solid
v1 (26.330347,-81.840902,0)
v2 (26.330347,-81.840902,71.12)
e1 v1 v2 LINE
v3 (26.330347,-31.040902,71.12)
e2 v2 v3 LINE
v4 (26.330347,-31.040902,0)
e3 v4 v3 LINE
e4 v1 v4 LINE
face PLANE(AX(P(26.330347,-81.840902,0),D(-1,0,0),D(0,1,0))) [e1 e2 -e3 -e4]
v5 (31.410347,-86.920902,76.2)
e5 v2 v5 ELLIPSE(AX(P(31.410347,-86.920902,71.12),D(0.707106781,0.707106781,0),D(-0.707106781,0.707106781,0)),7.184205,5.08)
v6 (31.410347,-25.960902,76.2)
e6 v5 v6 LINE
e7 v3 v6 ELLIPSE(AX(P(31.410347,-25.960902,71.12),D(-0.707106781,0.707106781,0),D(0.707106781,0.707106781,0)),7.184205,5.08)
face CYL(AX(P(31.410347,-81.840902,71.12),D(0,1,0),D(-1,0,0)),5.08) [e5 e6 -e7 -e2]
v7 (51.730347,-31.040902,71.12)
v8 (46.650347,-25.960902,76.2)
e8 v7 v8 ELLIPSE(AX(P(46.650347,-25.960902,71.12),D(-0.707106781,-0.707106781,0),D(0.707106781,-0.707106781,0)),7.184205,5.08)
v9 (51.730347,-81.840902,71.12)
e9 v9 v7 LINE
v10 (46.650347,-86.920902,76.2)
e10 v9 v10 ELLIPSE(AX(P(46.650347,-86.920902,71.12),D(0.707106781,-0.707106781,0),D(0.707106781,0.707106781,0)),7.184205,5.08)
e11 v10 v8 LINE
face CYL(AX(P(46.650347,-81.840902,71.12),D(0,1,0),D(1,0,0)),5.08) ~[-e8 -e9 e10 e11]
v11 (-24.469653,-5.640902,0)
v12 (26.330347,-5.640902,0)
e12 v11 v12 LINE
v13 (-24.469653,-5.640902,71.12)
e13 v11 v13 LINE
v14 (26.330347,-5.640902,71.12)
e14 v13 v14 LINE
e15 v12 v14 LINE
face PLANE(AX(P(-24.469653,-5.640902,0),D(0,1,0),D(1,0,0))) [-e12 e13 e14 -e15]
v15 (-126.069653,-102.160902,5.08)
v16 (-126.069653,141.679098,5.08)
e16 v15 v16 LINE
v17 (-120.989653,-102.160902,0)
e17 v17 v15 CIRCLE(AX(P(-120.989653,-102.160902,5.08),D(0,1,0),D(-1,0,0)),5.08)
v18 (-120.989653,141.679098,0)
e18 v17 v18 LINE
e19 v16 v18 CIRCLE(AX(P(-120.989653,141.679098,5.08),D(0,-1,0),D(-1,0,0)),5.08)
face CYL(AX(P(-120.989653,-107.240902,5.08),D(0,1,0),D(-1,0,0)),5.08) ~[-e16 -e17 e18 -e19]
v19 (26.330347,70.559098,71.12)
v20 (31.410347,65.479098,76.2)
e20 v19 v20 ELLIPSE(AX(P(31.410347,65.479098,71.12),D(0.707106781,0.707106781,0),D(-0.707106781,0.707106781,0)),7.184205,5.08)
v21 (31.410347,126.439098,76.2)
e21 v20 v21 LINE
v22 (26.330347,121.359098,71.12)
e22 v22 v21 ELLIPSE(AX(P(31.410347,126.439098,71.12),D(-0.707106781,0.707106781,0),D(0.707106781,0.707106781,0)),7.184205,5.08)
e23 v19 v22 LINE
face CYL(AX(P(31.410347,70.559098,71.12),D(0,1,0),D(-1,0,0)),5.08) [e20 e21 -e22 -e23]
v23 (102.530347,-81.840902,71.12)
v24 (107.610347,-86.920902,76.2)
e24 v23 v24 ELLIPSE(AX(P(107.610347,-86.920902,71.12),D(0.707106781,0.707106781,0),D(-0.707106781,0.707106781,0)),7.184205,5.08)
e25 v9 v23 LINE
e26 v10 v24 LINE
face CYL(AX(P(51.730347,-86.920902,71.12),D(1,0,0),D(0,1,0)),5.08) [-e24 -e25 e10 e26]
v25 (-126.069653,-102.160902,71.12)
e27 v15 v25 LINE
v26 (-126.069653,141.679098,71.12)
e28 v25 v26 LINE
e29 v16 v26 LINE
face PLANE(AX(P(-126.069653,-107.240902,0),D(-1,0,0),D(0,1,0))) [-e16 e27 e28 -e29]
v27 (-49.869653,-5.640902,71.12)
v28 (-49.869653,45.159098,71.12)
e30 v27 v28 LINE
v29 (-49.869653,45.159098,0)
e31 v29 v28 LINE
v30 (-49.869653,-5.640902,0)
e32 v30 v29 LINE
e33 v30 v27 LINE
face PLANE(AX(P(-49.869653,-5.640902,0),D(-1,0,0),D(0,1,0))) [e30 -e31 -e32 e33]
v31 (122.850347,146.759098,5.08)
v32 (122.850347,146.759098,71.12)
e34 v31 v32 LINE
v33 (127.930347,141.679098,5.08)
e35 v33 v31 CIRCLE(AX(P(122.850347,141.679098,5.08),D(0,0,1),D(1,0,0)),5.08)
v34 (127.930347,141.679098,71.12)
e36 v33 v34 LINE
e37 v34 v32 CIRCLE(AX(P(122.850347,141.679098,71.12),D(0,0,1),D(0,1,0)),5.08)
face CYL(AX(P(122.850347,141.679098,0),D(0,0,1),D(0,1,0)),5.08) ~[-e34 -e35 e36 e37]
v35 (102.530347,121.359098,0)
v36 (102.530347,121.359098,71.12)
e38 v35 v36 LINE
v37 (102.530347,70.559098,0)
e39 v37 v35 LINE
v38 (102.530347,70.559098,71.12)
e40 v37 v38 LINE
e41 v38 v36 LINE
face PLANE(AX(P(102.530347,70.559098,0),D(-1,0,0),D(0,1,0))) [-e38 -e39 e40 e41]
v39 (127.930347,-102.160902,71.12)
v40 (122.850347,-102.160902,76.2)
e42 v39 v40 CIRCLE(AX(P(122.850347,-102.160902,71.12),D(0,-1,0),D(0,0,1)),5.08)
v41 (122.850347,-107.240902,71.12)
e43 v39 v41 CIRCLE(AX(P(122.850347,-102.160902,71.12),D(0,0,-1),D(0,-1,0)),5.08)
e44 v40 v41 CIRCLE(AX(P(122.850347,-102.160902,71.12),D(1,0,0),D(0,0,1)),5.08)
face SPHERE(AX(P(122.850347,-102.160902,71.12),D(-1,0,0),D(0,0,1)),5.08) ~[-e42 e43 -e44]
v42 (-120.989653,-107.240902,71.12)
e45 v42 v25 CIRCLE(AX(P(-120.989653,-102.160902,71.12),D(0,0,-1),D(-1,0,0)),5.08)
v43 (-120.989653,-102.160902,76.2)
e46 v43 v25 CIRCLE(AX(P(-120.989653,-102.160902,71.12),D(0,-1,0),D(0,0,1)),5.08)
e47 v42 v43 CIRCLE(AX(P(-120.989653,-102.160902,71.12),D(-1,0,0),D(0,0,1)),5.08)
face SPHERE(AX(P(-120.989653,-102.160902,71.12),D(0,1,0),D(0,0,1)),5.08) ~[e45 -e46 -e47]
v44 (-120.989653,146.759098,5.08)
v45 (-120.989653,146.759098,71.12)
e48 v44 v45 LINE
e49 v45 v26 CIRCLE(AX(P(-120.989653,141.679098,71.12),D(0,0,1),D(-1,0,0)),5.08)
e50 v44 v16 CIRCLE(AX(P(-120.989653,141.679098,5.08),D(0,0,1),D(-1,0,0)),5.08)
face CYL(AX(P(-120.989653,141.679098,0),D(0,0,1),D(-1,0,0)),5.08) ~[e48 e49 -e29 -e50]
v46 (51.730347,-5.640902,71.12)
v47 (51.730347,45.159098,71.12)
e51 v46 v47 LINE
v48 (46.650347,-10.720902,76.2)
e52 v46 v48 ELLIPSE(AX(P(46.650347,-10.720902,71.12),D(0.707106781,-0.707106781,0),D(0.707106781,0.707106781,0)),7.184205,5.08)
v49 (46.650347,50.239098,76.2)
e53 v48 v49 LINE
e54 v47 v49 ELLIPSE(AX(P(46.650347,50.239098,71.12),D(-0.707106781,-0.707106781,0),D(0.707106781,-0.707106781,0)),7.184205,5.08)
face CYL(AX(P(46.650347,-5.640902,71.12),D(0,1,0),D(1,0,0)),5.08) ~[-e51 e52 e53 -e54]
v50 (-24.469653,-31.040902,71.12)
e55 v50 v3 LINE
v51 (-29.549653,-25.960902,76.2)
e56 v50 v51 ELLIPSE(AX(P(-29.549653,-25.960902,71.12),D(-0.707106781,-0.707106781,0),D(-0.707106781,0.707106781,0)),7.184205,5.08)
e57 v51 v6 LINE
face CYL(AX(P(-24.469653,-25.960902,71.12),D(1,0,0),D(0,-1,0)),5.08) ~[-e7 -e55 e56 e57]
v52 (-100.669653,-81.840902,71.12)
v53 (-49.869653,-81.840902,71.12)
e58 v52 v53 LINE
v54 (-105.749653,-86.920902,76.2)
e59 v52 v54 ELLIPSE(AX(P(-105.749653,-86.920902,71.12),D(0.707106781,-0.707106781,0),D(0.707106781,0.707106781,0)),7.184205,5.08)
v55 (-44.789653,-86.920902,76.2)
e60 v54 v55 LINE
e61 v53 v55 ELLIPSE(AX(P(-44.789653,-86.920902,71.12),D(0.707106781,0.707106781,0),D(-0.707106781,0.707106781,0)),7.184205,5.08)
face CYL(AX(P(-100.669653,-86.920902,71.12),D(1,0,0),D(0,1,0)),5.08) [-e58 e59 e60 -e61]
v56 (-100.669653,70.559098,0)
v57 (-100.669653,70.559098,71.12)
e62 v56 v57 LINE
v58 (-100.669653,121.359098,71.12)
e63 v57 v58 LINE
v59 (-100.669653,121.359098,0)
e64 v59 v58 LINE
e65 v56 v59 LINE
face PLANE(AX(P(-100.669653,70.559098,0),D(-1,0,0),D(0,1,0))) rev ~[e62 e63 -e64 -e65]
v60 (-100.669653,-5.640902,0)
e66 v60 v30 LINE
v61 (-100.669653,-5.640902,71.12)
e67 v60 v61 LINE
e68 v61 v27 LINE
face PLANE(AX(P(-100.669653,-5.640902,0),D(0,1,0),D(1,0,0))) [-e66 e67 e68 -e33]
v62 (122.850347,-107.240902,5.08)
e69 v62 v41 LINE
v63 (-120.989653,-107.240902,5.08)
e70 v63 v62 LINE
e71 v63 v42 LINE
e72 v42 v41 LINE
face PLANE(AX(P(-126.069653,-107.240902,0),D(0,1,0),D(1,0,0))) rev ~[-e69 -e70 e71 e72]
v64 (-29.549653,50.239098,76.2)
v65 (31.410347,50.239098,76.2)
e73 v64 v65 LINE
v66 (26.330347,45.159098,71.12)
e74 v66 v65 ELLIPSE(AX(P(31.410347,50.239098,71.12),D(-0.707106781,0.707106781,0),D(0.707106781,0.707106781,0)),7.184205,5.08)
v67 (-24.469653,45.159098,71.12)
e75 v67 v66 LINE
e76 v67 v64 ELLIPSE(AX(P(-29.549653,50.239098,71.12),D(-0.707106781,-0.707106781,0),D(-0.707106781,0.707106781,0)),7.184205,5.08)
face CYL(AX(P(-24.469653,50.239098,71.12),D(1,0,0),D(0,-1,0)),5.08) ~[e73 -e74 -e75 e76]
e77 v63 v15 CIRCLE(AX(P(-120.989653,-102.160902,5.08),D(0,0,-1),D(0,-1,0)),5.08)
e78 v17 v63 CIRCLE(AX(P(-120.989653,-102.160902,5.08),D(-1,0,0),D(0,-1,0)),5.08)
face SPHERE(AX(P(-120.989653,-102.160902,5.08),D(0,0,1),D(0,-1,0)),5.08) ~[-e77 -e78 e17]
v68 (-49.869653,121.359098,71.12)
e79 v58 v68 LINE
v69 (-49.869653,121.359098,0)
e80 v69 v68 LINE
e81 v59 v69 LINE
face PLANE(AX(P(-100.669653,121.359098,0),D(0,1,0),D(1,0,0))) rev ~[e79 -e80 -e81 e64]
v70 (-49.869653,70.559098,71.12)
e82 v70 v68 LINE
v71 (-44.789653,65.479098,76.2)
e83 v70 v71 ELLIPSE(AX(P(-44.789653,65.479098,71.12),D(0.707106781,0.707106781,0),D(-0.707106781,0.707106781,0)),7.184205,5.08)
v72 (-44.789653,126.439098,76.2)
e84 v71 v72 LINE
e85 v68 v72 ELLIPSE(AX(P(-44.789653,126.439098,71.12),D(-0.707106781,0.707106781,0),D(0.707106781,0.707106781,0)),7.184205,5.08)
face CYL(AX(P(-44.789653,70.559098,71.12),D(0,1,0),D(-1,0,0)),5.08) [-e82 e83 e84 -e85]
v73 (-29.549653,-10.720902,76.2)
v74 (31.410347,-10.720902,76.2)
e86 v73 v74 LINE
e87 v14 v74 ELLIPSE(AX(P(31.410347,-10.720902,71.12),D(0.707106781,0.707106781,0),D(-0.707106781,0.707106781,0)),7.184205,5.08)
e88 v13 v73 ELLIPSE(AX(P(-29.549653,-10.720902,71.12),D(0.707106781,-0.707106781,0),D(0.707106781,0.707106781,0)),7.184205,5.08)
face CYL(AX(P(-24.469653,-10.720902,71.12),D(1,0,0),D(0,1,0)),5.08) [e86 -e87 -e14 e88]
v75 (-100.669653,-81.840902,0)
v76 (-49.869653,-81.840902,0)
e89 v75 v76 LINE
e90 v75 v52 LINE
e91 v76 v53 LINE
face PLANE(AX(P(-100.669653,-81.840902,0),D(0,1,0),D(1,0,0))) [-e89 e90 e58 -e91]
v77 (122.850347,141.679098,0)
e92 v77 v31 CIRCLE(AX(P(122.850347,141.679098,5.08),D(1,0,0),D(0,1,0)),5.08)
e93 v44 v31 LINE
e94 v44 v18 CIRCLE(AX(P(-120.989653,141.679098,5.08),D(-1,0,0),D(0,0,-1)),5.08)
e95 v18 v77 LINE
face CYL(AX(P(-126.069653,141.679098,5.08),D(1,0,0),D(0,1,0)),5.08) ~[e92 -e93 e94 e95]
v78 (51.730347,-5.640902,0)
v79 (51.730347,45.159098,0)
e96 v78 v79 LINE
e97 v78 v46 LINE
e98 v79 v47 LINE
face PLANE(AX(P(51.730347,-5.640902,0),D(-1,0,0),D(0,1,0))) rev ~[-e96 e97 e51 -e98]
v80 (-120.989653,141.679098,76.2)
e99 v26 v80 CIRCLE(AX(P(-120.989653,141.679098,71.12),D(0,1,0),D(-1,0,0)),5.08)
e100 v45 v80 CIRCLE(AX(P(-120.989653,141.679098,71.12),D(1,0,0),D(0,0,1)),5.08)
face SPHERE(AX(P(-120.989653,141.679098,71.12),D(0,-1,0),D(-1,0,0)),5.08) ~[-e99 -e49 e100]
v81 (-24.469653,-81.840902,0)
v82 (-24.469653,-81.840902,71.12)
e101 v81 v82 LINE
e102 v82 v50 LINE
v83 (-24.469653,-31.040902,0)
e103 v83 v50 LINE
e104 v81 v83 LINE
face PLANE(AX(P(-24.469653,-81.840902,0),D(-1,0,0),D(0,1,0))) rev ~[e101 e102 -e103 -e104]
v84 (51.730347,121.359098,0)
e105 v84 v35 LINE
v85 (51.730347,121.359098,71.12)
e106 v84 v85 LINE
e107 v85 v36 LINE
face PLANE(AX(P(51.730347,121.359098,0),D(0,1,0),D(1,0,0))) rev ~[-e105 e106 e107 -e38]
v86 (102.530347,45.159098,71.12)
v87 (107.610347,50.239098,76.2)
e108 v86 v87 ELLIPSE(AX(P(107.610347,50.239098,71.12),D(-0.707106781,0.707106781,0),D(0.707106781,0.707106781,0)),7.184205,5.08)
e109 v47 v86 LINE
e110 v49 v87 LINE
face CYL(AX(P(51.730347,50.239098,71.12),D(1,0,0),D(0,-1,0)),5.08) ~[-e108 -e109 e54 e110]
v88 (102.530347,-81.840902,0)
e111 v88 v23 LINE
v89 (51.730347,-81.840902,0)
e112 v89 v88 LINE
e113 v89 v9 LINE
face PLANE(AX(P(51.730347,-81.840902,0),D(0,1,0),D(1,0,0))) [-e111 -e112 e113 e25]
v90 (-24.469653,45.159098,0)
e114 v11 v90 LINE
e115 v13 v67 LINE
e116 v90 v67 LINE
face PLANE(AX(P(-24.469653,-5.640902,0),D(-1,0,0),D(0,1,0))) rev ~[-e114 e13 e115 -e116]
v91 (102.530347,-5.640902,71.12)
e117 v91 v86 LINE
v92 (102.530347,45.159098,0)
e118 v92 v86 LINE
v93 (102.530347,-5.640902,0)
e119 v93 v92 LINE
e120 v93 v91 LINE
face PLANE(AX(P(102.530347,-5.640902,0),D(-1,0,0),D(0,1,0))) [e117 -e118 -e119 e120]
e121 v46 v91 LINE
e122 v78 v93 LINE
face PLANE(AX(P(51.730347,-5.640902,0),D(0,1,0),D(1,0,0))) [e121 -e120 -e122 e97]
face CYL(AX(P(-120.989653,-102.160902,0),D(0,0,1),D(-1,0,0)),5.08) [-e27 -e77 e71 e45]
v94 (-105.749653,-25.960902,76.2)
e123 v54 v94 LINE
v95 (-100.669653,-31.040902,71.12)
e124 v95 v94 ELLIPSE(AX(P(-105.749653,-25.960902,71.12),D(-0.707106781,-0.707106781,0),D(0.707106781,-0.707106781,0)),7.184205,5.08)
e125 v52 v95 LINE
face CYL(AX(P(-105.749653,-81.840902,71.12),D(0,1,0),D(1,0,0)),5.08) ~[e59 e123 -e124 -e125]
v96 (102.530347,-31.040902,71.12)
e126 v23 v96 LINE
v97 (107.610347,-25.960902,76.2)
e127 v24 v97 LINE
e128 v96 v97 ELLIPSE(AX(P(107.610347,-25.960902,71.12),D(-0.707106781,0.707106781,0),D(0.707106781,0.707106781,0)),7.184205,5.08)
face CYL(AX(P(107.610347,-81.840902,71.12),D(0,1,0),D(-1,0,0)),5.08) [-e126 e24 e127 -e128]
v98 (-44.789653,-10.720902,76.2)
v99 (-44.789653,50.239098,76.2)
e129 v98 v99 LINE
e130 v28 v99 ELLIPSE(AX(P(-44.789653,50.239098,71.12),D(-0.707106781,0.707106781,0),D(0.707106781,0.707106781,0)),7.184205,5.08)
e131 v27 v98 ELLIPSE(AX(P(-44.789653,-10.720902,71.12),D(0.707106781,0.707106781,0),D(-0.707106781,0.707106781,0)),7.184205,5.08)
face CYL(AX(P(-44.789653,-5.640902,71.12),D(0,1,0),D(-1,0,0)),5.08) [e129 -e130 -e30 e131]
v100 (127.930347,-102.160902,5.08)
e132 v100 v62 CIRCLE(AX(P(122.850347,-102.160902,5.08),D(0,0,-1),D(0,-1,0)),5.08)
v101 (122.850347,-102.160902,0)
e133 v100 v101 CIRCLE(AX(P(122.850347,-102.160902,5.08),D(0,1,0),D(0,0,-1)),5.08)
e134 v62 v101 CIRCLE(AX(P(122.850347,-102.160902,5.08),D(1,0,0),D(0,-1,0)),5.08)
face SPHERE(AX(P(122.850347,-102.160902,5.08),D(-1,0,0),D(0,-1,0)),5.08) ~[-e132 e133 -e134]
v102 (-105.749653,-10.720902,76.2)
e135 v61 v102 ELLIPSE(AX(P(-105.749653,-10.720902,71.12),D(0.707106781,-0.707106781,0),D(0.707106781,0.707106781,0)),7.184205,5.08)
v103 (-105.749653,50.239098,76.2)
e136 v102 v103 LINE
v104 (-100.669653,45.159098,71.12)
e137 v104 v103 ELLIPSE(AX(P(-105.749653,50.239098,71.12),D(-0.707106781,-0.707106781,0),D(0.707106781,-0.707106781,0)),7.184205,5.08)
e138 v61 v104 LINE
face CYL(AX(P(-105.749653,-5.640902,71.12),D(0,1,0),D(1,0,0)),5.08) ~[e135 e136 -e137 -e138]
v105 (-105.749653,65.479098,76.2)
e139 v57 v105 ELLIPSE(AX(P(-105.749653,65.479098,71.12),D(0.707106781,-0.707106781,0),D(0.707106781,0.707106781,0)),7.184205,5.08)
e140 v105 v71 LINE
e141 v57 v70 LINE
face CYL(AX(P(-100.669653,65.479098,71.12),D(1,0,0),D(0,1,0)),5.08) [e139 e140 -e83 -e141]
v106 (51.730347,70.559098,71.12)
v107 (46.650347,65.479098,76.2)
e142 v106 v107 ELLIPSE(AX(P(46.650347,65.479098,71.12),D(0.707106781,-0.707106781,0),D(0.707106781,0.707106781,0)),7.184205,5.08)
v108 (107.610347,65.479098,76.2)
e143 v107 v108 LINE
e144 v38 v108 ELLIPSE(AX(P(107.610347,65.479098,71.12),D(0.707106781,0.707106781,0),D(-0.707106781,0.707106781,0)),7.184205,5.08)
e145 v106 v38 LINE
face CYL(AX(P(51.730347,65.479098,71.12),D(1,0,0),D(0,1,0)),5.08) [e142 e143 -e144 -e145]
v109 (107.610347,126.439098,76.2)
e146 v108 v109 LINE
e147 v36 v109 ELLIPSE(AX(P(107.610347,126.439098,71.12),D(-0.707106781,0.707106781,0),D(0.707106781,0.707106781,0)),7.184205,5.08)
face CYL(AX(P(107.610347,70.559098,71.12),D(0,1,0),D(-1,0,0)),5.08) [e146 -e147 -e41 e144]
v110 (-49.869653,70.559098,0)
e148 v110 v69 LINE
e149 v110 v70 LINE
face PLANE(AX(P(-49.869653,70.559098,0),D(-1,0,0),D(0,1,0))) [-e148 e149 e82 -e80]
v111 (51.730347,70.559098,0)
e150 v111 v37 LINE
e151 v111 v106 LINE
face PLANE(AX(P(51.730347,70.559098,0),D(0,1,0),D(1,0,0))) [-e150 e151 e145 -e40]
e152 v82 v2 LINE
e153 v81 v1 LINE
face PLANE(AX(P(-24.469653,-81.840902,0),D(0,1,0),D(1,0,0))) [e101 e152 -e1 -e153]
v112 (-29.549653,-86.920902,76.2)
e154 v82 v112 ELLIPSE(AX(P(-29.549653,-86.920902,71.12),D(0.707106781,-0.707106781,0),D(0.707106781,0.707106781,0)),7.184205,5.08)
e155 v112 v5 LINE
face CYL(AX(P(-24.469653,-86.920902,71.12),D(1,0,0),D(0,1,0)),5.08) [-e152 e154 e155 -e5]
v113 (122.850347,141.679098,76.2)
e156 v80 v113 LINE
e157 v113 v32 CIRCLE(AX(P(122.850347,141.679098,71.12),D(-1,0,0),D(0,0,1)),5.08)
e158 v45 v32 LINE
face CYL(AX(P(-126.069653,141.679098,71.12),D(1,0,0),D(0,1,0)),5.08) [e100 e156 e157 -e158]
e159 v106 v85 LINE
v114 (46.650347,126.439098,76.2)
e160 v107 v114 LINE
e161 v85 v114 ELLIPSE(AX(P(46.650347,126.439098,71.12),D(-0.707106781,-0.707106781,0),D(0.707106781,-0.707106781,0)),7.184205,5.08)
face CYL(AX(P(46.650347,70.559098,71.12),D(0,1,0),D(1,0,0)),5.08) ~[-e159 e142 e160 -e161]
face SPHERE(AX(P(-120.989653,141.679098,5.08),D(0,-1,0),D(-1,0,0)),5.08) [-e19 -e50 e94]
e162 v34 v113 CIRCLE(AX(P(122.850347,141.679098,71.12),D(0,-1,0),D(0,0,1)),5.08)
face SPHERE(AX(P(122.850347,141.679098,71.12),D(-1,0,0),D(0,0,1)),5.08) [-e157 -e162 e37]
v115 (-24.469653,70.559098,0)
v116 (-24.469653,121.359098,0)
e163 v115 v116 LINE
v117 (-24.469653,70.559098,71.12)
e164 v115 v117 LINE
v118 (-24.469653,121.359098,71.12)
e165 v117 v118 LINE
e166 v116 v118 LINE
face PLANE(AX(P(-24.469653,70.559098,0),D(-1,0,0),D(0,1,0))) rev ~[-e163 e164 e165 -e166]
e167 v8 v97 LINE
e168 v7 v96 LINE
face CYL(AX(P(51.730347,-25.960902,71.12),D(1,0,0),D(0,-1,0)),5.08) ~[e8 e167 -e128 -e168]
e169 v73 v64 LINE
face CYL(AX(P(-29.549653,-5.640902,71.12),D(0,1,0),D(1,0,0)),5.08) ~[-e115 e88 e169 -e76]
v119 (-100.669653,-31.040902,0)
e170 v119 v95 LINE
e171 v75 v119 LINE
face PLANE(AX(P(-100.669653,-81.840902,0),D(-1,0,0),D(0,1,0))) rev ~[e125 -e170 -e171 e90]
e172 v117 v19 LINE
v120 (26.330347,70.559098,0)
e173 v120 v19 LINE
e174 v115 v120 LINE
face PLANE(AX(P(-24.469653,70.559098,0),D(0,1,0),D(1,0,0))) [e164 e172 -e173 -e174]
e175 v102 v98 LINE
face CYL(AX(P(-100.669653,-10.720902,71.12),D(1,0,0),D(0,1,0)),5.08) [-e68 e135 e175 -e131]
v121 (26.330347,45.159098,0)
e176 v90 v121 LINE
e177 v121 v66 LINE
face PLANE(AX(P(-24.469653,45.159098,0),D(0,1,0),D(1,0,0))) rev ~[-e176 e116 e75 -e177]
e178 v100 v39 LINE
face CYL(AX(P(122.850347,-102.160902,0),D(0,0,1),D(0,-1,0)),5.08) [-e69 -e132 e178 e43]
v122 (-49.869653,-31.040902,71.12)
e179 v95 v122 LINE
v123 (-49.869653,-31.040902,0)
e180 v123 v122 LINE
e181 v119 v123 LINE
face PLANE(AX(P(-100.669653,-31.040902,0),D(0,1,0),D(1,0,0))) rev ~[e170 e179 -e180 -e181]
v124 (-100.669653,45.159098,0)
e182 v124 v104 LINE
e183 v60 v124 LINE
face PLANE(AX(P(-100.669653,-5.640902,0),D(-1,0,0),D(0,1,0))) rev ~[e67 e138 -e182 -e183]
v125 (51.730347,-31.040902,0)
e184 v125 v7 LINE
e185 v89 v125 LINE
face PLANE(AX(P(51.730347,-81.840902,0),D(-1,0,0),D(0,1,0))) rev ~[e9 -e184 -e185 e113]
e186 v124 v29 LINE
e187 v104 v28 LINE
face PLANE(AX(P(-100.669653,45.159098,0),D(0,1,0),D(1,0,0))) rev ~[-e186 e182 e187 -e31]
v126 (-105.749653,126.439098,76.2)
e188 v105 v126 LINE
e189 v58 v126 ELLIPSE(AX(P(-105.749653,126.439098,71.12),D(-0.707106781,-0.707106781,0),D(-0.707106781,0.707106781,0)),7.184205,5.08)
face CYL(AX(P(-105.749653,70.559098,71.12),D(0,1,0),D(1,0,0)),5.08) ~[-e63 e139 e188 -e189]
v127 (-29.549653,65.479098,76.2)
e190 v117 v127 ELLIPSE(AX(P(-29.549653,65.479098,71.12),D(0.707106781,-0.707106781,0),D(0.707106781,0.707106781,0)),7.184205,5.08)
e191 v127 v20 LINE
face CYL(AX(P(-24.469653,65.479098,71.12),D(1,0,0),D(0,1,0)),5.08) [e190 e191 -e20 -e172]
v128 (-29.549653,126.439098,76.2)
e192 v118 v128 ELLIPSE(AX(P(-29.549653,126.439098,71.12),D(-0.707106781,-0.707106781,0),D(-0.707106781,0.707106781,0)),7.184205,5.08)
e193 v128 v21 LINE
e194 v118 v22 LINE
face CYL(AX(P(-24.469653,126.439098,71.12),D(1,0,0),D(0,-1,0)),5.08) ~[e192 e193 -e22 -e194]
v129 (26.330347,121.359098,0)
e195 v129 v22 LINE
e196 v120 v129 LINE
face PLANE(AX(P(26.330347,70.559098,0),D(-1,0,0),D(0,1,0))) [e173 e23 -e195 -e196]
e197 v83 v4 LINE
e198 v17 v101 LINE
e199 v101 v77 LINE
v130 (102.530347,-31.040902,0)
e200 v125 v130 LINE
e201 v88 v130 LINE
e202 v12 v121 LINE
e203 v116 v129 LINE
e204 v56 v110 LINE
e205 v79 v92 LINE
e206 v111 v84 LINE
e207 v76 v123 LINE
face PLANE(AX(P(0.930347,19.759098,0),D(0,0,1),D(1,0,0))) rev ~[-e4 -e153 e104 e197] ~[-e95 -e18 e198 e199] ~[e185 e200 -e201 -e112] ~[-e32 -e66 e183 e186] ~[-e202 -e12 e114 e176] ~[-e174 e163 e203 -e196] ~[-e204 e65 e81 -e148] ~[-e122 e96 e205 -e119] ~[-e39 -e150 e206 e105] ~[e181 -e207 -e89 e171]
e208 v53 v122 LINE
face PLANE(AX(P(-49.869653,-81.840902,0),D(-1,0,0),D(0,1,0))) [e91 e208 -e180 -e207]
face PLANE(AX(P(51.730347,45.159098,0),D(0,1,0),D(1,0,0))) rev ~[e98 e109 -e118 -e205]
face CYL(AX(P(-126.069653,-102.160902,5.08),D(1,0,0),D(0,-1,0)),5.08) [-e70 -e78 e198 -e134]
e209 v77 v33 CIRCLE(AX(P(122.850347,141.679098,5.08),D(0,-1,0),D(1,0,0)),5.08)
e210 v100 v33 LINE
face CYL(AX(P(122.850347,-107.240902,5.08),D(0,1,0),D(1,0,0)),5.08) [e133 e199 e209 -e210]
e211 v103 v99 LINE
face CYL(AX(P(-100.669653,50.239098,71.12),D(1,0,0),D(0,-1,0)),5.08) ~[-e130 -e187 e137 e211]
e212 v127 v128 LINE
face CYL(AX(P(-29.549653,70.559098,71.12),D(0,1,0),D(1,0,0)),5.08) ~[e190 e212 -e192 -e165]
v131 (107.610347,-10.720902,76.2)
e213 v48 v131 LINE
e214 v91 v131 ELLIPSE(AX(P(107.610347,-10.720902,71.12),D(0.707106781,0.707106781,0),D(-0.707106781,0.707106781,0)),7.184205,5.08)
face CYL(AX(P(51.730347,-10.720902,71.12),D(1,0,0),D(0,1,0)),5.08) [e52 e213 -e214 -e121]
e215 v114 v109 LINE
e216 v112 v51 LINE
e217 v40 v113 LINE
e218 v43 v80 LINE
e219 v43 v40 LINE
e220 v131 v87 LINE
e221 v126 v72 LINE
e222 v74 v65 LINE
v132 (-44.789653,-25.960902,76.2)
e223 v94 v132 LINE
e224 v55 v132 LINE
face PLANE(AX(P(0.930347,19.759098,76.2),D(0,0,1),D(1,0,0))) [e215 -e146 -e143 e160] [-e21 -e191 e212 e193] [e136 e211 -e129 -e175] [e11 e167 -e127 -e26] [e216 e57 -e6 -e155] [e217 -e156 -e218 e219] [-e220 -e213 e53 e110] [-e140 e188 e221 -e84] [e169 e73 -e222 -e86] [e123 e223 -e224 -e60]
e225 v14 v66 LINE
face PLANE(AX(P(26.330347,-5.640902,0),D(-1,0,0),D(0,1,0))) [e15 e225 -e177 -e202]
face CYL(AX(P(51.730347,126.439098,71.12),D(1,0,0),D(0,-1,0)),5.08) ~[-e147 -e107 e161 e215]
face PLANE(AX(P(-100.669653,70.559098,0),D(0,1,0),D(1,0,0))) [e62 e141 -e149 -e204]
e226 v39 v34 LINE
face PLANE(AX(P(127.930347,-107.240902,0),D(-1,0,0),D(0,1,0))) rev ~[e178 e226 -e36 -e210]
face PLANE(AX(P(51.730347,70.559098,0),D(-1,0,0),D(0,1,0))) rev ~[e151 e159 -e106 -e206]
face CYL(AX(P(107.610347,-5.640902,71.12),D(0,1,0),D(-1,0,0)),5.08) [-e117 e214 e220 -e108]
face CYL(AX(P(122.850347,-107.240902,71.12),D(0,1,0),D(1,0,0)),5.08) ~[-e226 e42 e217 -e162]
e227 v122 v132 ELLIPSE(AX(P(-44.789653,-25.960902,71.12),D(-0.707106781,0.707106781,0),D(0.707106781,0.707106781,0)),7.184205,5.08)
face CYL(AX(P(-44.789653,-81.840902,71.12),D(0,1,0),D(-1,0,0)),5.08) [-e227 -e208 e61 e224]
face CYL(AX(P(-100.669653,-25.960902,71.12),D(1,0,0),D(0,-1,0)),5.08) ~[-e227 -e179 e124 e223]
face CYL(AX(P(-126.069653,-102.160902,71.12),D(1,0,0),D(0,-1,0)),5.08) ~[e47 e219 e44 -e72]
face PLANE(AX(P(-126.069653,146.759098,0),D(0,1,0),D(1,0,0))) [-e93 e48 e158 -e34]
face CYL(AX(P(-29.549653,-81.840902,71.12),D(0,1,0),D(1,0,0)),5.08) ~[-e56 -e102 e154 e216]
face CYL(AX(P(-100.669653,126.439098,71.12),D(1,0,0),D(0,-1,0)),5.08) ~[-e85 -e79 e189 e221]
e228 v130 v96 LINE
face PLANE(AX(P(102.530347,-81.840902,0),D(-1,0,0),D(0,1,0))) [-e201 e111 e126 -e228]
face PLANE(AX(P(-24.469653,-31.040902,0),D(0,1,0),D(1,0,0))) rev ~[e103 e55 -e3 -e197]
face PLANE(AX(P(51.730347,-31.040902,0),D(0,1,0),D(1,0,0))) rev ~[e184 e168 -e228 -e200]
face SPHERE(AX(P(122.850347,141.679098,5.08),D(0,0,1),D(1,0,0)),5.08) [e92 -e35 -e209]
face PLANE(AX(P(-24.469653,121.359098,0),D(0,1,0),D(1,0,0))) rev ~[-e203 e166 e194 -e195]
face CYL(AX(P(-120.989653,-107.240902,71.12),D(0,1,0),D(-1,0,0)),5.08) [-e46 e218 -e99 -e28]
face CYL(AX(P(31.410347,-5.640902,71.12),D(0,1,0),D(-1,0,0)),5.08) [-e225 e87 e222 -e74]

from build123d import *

# Parameters (mm, degrees)
F0_W     = 254
F0_H     = 254
F0_W_2   = 50.8
F0_H_2   = 50.8
F1_DEPTH = 76.2
F2_R     = 5.08


with BuildPart() as f1:
    # F0 (on Top) → F1 (new body)
    with BuildSketch(Plane.XY):
        with Locations((0.930347, 19.759098)):
            Rectangle(F0_W, F0_H)
        with Locations((-75.269653, -56.440902)):
            Rectangle(F0_W_2, F0_H_2, mode=Mode.SUBTRACT)
        with Locations((0.930347, -56.440902)):
            Rectangle(F0_W_2, F0_H_2, mode=Mode.SUBTRACT)
        with Locations((77.130347, -56.440902)):
            Rectangle(F0_W_2, F0_H_2, mode=Mode.SUBTRACT)
        with Locations((-75.269653, 19.759098)):
            Rectangle(F0_W_2, F0_H_2, mode=Mode.SUBTRACT)
        with Locations((-75.269653, 95.959098)):
            Rectangle(F0_W_2, F0_H_2, mode=Mode.SUBTRACT)
        with Locations((0.930347, 19.759098)):
            Rectangle(F0_W_2, F0_H_2, mode=Mode.SUBTRACT)
        with Locations((77.130347, 19.759098)):
            Rectangle(F0_W_2, F0_H_2, mode=Mode.SUBTRACT)
        with Locations((0.930347, 95.959098)):
            Rectangle(F0_W_2, F0_H_2, mode=Mode.SUBTRACT)
        with Locations((77.130347, 95.959098)):
            Rectangle(F0_W_2, F0_H_2, mode=Mode.SUBTRACT)
    extrude(amount=F1_DEPTH)

    # F2
    f2_edges = [f1.edges().sort_by_distance(p)[0] for p in [
        (-126.069653, 19.759098, 76.2),
        (0.930347, -107.240902, 76.2),
        (-126.069653, -107.240902, 38.1),
        (0.930347, -107.240902, 0),
        (-126.069653, 19.759098, 0),
        (-126.069653, 146.759098, 38.1),
        (0.930347, 146.759098, 76.2),
        (127.930347, 19.759098, 76.2),
        (-75.269653, -31.040902, 76.2),
        (-49.869653, -56.440902, 76.2),
        (-75.269653, -81.840902, 76.2),
        (-100.669653, -56.440902, 76.2),
        (-24.469653, -56.440902, 76.2),
        (0.930347, -31.040902, 76.2),
        (26.330347, -56.440902, 76.2),
        (0.930347, -81.840902, 76.2),
        (77.130347, -31.040902, 76.2),
        (102.530347, -56.440902, 76.2),
        (77.130347, -81.840902, 76.2),
        (51.730347, -56.440902, 76.2),
        (-75.269653, 45.159098, 76.2),
        (-49.869653, 19.759098, 76.2),
        (-75.269653, -5.640902, 76.2),
        (-100.669653, 19.759098, 76.2),
        (-100.669653, 95.959098, 76.2),
        (-75.269653, 121.359098, 76.2),
        (-49.869653, 95.959098, 76.2),
        (-75.269653, 70.559098, 76.2),
        (-24.469653, 19.759098, 76.2),
        (0.930347, 45.159098, 76.2),
        (26.330347, 19.759098, 76.2),
        (0.930347, -5.640902, 76.2),
        (77.130347, 45.159098, 76.2),
        (102.530347, 19.759098, 76.2),
        (77.130347, -5.640902, 76.2),
        (51.730347, 19.759098, 76.2),
        (-24.469653, 95.959098, 76.2),
        (0.930347, 121.359098, 76.2),
        (26.330347, 95.959098, 76.2),
        (0.930347, 70.559098, 76.2),
        (77.130347, 121.359098, 76.2),
        (102.530347, 95.959098, 76.2),
        (77.130347, 70.559098, 76.2),
        (51.730347, 95.959098, 76.2),
        (127.930347, -107.240902, 38.1),
        (127.930347, 146.759098, 38.1),
        (127.930347, 19.759098, 0),
        (0.930347, 146.759098, 0),
    ]]
    fillet(f2_edges, radius=F2_R)


solid = f1.part
